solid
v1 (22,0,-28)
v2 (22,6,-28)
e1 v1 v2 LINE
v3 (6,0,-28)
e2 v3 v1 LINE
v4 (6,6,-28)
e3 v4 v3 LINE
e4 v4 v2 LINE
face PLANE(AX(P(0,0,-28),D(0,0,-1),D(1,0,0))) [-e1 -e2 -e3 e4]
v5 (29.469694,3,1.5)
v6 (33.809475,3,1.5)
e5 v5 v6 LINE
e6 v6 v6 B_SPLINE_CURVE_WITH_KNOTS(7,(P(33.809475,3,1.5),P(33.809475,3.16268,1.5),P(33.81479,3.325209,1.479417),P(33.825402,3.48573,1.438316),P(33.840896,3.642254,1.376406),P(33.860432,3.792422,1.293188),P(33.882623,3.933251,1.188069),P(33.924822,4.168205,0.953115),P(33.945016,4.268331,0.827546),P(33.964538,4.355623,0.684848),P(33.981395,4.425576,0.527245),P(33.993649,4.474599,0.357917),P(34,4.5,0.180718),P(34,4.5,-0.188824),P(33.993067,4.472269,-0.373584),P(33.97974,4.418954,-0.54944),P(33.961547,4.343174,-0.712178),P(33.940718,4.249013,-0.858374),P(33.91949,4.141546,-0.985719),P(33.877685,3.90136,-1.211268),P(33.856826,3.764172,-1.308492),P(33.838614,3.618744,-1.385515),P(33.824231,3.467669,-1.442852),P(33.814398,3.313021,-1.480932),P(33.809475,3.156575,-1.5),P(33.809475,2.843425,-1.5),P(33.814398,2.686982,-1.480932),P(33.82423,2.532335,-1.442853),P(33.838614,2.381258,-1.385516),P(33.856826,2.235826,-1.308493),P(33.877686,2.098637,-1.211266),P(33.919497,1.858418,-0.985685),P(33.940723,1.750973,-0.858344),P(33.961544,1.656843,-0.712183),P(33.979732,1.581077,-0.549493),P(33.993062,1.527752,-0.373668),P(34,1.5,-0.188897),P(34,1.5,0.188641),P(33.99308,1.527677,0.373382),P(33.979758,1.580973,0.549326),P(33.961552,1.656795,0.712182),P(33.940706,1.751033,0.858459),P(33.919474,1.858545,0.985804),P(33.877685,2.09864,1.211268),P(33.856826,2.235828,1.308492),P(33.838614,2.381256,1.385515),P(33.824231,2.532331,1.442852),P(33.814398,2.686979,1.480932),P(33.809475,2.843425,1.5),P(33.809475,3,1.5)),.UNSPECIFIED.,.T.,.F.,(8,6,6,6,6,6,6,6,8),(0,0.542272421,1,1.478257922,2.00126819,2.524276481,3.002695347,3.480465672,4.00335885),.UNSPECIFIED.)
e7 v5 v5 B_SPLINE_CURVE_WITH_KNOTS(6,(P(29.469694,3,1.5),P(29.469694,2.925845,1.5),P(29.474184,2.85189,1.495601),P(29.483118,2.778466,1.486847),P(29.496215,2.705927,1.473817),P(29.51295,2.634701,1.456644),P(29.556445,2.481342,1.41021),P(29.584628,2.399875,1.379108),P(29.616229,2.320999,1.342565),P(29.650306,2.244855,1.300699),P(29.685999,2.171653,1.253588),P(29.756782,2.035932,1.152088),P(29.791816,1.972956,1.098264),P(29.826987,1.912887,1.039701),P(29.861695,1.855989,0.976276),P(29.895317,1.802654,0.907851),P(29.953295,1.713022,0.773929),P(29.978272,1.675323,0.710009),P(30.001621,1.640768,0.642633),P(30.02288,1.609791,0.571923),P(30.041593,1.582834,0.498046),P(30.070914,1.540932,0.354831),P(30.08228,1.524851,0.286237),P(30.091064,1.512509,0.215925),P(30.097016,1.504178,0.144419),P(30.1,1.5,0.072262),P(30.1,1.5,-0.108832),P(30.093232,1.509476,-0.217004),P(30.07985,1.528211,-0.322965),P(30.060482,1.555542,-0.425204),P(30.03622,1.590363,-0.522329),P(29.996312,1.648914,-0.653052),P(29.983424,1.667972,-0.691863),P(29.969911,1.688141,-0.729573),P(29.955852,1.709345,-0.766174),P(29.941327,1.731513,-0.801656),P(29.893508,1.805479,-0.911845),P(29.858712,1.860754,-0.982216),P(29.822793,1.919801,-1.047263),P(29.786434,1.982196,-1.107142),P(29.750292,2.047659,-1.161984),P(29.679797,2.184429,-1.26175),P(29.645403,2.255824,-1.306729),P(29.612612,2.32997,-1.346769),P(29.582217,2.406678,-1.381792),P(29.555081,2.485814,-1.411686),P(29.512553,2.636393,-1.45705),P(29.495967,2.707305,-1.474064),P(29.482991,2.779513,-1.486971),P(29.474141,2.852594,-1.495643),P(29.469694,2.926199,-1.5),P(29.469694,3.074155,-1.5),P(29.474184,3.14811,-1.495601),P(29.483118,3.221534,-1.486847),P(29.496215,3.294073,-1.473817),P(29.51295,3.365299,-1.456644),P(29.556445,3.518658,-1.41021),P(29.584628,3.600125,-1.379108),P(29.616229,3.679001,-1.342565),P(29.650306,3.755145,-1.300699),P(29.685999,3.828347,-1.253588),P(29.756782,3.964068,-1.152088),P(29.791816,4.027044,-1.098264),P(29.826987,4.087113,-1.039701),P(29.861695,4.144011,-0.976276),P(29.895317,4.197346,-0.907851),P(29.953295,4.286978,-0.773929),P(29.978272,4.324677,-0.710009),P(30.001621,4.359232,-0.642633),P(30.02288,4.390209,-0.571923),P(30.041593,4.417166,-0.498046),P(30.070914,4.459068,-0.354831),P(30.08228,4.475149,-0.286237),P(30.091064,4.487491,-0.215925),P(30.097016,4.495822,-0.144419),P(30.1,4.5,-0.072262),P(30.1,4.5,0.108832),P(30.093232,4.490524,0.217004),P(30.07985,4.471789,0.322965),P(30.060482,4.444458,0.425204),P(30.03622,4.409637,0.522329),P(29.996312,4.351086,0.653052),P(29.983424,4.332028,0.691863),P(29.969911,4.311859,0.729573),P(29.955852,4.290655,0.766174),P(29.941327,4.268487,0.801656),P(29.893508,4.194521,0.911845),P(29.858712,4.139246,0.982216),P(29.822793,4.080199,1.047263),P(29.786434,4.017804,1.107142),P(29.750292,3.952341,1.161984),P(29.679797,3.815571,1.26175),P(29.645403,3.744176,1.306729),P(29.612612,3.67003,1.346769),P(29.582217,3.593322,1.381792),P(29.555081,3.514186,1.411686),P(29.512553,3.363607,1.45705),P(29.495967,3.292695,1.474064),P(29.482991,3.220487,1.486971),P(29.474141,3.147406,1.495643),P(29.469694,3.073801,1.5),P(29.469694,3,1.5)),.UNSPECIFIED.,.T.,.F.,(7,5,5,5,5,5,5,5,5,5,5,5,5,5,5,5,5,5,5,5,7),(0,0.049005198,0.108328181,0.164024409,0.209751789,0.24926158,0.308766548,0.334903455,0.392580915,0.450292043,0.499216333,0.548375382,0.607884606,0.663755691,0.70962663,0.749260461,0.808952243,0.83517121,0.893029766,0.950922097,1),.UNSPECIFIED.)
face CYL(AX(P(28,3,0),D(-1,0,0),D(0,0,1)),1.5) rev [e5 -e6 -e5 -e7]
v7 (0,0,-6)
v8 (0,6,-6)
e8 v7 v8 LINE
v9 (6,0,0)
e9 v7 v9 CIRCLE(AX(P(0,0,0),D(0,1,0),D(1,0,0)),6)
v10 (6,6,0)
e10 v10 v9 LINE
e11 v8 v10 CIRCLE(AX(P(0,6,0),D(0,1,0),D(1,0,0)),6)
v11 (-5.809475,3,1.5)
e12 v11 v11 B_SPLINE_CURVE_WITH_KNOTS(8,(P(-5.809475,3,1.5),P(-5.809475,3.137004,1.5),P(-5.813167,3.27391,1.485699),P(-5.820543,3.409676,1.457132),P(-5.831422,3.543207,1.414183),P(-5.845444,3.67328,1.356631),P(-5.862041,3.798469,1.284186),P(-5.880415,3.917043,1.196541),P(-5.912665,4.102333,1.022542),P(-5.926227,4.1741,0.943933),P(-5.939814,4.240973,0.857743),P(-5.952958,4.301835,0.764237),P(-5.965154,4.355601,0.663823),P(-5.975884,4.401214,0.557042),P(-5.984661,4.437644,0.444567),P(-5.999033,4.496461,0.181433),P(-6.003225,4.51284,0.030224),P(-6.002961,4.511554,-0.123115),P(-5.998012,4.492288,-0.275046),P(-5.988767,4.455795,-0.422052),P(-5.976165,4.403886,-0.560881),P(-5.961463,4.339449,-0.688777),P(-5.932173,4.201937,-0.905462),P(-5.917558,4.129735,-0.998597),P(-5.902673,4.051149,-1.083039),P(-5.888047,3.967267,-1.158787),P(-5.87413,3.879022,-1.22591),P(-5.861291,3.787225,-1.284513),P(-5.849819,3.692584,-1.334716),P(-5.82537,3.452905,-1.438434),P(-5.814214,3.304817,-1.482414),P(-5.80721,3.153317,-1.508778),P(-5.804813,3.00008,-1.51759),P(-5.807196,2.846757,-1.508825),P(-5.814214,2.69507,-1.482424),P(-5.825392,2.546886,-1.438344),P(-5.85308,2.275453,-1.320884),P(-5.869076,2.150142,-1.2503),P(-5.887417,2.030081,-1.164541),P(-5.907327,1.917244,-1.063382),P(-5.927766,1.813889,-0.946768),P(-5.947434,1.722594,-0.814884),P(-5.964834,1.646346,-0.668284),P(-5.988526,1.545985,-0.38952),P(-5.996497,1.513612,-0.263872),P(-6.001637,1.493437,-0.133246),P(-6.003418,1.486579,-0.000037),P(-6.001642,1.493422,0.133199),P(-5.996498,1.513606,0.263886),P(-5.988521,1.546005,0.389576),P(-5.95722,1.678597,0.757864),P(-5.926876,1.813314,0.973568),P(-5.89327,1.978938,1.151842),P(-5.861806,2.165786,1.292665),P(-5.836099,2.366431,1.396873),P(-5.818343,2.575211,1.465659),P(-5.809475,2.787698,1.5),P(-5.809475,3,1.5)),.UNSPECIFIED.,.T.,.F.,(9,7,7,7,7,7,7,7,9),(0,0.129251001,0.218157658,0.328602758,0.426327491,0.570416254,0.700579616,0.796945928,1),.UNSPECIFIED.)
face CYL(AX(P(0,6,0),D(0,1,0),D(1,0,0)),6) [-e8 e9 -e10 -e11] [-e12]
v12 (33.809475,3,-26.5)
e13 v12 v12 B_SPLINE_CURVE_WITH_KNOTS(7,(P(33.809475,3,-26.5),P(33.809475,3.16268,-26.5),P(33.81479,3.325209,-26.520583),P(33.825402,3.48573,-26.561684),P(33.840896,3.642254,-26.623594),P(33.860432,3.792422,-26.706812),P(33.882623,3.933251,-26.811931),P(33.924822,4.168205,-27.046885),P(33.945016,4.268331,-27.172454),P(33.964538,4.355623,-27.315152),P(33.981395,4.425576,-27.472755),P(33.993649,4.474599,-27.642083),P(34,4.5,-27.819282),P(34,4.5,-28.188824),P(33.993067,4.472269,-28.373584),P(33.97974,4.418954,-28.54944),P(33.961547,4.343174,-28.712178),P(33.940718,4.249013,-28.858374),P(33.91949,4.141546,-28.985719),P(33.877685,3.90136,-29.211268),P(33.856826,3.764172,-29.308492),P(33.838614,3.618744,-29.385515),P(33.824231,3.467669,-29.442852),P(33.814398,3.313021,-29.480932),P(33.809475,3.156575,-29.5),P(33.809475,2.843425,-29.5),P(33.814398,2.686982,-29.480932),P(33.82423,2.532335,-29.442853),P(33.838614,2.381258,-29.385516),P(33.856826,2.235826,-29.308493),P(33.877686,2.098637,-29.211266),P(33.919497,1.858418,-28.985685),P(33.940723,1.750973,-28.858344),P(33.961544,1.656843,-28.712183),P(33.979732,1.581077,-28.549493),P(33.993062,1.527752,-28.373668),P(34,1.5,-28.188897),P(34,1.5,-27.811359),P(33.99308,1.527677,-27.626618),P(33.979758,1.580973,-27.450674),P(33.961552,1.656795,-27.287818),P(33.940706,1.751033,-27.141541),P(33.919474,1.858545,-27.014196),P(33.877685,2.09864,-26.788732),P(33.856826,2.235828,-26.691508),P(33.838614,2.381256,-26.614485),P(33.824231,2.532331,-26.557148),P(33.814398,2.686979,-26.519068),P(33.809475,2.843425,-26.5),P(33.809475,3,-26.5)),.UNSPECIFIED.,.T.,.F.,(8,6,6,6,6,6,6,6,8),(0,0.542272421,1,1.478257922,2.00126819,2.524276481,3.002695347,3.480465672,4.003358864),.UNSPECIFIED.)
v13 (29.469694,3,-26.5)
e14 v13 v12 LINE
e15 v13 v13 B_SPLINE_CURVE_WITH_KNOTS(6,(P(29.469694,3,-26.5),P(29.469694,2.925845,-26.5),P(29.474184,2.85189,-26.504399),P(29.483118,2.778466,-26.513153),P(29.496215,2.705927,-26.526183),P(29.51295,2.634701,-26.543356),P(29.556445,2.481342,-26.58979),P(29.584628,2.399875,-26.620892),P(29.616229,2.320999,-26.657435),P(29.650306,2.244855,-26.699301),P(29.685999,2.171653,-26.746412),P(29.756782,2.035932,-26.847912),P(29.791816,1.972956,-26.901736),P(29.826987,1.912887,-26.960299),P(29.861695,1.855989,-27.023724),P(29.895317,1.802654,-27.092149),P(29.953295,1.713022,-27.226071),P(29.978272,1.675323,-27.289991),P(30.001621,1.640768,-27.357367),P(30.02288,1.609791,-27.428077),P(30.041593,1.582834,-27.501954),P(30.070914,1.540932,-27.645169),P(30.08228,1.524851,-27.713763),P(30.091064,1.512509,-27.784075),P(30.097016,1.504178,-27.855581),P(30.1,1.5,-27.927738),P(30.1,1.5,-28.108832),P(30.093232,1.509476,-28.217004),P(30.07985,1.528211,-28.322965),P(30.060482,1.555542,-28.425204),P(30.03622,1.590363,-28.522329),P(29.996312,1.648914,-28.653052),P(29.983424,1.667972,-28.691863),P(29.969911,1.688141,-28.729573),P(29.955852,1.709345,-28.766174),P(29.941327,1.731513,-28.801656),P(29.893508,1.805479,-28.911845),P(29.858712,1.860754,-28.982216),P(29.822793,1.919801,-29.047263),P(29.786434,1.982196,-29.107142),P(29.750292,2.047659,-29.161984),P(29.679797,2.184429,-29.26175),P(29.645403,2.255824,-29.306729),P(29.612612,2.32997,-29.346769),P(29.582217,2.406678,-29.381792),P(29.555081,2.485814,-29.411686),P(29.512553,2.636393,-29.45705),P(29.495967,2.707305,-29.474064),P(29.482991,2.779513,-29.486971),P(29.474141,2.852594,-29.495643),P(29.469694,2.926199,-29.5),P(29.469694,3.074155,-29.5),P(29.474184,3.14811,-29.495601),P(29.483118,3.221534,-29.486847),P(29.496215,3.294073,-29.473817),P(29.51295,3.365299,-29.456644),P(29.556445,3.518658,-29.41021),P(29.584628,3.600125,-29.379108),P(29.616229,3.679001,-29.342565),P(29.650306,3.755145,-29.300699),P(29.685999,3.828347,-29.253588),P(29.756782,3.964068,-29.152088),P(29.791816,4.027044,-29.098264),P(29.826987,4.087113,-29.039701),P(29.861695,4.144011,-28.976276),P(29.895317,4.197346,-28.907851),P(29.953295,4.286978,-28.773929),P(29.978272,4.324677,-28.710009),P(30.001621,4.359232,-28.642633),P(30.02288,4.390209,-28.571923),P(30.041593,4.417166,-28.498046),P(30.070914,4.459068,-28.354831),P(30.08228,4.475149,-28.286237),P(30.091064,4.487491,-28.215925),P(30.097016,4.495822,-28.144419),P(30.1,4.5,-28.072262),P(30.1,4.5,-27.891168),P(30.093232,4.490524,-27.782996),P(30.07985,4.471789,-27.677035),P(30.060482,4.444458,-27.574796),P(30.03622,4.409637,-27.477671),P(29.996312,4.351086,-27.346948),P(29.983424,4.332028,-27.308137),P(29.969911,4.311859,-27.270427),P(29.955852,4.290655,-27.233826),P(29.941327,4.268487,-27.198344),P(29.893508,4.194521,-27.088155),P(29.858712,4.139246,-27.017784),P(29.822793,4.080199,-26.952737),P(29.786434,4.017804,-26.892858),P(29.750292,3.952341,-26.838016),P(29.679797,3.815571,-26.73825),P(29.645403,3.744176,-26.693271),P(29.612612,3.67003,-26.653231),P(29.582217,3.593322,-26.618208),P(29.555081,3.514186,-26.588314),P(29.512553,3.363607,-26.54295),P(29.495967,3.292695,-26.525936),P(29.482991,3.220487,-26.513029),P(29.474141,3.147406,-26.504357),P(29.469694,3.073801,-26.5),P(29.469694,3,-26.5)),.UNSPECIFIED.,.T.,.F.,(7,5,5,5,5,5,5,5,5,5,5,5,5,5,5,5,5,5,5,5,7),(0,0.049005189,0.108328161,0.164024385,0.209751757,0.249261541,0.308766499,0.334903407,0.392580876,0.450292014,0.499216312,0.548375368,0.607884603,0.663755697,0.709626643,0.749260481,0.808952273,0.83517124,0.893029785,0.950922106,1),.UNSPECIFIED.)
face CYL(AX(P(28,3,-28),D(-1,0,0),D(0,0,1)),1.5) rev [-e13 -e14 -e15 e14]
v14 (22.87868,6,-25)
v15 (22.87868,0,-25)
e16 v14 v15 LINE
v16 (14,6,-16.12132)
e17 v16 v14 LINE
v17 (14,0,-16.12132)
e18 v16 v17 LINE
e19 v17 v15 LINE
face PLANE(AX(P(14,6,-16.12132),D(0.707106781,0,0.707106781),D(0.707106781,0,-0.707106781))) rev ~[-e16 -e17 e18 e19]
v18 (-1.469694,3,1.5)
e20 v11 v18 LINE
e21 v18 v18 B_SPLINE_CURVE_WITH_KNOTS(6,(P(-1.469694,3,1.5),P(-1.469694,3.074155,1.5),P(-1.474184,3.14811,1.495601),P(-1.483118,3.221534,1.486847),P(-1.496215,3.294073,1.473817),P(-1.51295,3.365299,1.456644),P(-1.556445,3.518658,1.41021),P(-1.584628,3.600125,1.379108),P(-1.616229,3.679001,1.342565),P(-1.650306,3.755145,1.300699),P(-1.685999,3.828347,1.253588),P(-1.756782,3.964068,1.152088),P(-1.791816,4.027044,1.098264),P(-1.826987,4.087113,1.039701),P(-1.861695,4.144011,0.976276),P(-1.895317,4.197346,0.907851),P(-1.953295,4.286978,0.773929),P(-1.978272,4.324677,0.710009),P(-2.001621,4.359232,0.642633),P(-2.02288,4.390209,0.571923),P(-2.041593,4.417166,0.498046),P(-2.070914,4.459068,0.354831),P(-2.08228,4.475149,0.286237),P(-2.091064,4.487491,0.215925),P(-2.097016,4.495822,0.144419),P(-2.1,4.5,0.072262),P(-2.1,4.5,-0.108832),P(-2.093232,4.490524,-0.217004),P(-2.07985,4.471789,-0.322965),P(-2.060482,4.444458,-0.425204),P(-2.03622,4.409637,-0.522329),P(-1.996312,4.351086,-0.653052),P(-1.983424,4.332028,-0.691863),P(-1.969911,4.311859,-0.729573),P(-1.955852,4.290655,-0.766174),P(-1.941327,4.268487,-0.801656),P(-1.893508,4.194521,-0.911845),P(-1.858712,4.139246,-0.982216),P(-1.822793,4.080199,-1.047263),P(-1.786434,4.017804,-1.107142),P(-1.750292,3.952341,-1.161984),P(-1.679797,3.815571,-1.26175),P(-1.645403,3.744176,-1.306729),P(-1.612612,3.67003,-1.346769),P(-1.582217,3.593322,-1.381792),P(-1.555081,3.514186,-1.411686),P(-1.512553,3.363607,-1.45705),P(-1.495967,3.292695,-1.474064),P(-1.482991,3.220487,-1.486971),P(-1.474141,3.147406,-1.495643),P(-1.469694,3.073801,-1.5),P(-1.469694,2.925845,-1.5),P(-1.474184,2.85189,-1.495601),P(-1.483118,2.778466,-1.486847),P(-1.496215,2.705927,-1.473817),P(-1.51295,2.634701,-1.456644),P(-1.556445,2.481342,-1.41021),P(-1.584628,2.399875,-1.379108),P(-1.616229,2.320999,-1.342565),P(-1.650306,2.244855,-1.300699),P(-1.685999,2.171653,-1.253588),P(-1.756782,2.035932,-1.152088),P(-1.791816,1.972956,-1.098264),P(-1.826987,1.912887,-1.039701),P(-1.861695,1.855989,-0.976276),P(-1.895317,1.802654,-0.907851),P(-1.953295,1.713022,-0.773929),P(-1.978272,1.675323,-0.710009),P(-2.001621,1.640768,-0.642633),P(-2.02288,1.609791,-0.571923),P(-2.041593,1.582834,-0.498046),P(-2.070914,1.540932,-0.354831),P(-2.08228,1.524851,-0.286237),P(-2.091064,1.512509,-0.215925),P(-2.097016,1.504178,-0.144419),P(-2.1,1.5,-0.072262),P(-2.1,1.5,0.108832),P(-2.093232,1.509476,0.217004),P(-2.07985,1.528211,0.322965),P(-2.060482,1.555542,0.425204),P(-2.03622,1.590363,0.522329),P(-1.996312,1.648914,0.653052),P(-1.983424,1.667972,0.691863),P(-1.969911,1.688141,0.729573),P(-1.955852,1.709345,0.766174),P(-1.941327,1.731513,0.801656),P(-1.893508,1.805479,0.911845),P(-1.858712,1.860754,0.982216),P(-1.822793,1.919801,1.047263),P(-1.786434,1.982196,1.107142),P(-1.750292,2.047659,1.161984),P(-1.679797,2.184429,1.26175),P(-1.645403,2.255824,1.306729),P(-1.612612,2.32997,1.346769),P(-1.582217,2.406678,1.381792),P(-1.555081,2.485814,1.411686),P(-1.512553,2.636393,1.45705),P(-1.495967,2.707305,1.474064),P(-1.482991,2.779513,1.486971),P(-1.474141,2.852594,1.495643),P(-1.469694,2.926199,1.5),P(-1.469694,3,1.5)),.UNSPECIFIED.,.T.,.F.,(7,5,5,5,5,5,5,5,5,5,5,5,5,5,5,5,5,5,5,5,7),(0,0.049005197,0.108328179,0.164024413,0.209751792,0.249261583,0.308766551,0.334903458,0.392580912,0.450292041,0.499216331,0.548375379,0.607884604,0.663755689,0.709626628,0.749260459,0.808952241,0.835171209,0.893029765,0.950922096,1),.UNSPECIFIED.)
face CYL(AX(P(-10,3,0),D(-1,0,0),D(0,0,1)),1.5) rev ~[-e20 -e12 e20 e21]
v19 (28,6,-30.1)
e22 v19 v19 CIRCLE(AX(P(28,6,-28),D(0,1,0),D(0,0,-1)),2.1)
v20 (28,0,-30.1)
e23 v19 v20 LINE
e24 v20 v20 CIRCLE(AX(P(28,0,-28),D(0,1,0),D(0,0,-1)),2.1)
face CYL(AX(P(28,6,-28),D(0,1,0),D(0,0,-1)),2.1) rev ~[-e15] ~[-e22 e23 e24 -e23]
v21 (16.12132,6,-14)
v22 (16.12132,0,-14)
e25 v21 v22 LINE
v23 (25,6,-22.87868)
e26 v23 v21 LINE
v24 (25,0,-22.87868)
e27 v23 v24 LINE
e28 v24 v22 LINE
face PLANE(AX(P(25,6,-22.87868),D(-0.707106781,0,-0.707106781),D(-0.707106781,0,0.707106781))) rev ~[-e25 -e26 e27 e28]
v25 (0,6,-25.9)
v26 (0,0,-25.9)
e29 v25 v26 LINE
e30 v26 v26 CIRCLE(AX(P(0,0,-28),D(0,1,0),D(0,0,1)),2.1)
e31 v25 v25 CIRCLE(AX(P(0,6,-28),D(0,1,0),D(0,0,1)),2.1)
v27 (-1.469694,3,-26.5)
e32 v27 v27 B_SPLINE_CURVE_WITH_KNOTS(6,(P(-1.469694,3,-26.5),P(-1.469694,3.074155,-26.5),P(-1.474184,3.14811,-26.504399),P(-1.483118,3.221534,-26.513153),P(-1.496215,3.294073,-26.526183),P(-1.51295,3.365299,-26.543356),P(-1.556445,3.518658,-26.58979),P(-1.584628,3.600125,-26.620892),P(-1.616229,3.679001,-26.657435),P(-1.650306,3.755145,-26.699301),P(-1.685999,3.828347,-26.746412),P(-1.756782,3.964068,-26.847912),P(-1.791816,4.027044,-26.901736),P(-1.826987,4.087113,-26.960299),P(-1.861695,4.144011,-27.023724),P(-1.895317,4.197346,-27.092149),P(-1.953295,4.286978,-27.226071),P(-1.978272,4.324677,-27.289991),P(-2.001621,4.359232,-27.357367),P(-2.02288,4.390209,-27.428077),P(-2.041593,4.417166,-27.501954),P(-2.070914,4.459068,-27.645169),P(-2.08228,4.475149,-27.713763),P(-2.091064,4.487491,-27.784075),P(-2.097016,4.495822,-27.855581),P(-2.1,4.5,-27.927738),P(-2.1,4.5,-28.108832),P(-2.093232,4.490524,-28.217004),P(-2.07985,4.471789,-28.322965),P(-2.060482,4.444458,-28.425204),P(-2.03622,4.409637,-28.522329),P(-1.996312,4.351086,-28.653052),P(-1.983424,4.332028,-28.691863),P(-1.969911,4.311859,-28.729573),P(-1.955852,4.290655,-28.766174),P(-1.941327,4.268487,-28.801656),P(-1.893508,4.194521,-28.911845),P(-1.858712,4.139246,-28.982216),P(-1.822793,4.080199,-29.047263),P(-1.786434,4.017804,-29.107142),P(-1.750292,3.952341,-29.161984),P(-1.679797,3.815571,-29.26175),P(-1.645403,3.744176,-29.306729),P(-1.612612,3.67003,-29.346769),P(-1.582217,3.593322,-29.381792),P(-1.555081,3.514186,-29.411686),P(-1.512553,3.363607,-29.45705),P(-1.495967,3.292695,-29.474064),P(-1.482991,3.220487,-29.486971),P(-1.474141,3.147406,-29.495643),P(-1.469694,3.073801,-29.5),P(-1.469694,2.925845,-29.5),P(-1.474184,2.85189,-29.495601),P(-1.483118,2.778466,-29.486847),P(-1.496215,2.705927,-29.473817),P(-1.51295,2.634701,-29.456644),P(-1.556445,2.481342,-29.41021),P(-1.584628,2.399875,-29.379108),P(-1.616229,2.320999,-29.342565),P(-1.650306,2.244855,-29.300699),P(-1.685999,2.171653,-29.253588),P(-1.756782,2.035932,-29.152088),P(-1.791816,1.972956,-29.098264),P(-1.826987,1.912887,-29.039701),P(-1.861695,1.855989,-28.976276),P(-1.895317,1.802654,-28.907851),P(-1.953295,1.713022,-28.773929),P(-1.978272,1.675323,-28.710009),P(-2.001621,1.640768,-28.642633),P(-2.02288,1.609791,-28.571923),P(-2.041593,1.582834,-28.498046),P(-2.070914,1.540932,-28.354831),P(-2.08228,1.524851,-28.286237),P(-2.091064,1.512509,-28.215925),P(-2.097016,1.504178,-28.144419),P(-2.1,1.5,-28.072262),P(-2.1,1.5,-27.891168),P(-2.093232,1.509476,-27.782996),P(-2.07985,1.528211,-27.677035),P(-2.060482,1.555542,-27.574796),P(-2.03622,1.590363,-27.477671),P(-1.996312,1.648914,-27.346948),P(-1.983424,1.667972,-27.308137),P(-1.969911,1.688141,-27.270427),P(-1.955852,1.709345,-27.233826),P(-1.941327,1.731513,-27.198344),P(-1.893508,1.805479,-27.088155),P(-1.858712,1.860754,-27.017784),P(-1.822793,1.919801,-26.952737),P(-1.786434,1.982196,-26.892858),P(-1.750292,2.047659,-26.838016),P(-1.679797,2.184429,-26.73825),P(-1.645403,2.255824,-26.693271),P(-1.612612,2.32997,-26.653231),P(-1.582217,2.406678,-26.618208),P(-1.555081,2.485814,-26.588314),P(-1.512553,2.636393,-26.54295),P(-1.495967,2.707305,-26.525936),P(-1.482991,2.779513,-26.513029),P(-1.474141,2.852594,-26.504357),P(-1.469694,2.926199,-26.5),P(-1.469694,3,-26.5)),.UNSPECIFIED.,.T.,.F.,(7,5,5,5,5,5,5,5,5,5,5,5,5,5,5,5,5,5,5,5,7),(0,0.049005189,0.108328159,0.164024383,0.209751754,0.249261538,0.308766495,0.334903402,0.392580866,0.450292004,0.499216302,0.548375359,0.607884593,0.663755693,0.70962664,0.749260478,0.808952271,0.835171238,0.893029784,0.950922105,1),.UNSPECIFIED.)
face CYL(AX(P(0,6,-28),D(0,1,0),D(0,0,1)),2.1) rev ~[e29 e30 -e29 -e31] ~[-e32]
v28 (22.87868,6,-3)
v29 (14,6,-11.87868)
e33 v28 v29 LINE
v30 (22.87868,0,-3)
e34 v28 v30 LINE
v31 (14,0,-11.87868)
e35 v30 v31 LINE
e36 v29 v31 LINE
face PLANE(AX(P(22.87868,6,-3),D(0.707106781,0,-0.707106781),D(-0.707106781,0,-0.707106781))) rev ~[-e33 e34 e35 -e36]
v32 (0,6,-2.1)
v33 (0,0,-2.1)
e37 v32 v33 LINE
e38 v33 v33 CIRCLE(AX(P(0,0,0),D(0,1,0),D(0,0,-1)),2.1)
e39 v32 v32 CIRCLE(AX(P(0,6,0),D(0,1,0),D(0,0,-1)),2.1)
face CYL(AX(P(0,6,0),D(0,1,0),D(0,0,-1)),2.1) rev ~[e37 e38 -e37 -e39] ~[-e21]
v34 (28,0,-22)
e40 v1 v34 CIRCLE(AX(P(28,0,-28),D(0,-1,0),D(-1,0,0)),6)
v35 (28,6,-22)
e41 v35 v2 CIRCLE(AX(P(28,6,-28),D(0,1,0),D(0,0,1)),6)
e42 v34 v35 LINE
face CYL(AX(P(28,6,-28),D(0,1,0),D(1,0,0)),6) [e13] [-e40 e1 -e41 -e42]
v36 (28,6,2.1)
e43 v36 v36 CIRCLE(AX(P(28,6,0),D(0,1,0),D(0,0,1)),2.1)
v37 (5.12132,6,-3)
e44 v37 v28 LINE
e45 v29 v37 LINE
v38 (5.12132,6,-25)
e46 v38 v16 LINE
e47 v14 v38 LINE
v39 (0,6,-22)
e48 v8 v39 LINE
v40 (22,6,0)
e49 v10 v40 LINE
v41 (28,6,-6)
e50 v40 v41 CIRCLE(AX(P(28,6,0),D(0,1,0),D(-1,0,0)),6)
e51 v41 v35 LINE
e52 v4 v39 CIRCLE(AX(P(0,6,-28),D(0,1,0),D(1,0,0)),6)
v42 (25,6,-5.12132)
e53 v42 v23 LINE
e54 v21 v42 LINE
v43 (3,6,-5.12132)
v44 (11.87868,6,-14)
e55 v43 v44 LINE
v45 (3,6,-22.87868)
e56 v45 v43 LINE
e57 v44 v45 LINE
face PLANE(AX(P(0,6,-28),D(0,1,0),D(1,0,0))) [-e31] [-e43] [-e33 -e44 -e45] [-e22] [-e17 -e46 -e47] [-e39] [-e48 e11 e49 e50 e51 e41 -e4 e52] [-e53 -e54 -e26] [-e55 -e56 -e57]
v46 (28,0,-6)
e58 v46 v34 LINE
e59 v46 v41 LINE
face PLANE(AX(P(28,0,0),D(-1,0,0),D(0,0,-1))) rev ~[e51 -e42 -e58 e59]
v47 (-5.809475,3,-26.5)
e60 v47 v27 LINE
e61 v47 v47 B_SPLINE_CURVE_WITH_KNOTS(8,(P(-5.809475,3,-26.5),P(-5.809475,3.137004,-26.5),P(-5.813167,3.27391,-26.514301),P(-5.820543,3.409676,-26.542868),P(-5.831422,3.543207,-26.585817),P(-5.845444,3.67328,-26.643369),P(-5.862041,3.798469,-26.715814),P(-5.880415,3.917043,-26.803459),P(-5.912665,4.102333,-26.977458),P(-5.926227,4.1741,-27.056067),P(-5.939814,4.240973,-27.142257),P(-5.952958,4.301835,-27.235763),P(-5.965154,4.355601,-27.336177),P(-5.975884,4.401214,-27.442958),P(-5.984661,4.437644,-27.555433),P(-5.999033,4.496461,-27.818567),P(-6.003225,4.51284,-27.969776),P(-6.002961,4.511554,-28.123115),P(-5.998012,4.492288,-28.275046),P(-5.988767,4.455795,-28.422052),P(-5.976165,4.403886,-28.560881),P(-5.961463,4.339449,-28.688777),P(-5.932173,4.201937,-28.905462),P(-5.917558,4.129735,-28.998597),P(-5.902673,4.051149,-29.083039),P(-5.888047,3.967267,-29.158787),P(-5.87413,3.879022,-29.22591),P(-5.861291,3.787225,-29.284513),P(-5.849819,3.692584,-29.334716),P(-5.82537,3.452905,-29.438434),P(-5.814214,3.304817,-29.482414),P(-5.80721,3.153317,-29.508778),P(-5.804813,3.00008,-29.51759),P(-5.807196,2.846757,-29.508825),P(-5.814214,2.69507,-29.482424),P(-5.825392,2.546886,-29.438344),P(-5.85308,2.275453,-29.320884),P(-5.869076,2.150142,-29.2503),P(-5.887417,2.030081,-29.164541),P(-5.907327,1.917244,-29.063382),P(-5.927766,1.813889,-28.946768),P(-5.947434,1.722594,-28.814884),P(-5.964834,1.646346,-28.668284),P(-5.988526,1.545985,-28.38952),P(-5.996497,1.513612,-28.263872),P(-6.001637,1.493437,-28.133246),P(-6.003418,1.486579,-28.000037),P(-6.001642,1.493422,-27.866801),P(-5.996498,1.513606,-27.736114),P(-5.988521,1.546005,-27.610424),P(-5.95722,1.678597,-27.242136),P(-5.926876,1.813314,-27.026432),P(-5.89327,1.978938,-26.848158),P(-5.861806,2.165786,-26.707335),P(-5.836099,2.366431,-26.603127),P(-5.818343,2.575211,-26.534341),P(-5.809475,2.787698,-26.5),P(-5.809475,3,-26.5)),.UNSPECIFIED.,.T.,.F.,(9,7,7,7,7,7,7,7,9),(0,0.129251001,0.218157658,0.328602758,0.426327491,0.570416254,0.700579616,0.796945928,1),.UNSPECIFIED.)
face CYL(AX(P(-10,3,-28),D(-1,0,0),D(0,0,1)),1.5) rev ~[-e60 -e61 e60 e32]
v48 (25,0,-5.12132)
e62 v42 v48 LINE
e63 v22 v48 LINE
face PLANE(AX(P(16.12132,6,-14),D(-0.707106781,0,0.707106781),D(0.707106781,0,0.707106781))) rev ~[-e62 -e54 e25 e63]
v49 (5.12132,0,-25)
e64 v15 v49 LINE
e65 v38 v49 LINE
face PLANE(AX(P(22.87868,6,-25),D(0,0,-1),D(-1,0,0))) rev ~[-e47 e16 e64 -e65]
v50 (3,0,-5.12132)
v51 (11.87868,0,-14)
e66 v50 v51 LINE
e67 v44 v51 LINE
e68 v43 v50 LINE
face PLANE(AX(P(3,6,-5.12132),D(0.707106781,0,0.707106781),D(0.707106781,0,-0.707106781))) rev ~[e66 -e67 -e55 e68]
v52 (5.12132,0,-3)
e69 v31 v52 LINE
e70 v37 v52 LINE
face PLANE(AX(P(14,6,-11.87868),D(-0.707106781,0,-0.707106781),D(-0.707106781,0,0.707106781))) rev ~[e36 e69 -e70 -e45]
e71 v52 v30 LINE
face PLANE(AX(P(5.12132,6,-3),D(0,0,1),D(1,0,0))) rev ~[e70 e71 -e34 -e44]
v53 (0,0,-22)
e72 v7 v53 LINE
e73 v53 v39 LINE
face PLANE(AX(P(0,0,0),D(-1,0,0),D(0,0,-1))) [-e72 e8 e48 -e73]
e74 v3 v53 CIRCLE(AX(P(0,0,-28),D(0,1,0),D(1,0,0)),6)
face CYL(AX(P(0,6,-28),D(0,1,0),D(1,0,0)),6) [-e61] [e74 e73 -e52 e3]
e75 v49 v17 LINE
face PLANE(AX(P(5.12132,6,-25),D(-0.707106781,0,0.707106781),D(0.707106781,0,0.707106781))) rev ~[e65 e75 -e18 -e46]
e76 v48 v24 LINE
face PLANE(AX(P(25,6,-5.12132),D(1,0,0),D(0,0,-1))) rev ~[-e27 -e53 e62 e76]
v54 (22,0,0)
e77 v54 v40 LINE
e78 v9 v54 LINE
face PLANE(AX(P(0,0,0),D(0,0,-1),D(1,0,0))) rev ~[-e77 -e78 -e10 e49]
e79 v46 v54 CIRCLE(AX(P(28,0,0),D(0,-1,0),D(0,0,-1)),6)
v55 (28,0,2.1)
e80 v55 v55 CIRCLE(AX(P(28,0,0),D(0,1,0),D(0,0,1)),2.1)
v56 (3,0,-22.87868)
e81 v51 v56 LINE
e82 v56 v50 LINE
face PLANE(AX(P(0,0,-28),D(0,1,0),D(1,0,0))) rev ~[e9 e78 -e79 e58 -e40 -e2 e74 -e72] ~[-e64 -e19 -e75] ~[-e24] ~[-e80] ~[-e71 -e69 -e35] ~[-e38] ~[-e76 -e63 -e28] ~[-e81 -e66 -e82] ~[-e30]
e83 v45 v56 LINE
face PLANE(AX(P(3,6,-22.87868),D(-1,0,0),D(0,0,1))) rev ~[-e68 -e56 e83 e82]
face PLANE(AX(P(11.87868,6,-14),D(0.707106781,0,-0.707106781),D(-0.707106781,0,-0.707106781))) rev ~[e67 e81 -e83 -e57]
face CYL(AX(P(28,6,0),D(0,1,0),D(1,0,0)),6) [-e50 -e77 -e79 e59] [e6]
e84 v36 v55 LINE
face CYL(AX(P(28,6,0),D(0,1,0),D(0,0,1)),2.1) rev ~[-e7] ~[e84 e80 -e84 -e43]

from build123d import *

# Parameters (mm, degrees)
SKETCH1_W           = 28
SKETCH1_H           = 28
BOSS_EXTRUDE1_DEPTH = 6
SKETCH2_R           = 6
BOSS_EXTRUDE2_DEPTH = 6
SKETCH3_R           = 2.1
CUT_EXTRUDE1_DEPTH  = 49.456165758
CUT_EXTRUDE2_DEPTH  = 10
SKETCH5_R           = 1.5
CUT_EXTRUDE3_DEPTH  = 10
CUT_EXTRUDE4_START  = 10
SKETCH6_R           = 1.5
CUT_EXTRUDE4_DEPTH  = 10


with BuildPart() as part:
    # Sketch1 → Boss-Extrude1 (new body)
    with BuildSketch(Plane(origin=(0, 0, 0), x_dir=(1, 0, 0), z_dir=(0, 1, 0))):
        with Locations((14, 14)):
            Rectangle(SKETCH1_W, SKETCH1_H)
    extrude(amount=BOSS_EXTRUDE1_DEPTH)

    # Sketch2 → Boss-Extrude2 (add)
    with BuildSketch(Plane(origin=(0, 6, 0), x_dir=(1, 0, 0), z_dir=(0, 1, 0))):
        with Locations((0, 28)):
            Circle(SKETCH2_R)
        with Locations((28, 28)):
            Circle(SKETCH2_R)
        with Locations((28, 0)):
            Circle(SKETCH2_R)
        Circle(SKETCH2_R)
    extrude(amount=-BOSS_EXTRUDE2_DEPTH)

    # Sketch3 → Cut-Extrude1 (cut, through all)
    with BuildSketch(Plane(origin=(0, 6, 0), x_dir=(1, 0, 0), z_dir=(0, 1, 0))):
        with Locations(Location((0, 28, 0), (0, 0, 270))):
            Circle(SKETCH3_R)
        with Locations(Location((28, 28, 0), (0, 0, 90))):
            Circle(SKETCH3_R)
        with Locations(Location((28, 0, 0), (0, 0, 270))):
            Circle(SKETCH3_R)
        with Locations(Location((0, 0, 0), (0, 0, 90))):
            Circle(SKETCH3_R)
    extrude(amount=-CUT_EXTRUDE1_DEPTH, mode=Mode.SUBTRACT)

    # Sketch4 → Cut-Extrude2 (cut)
    with BuildSketch(Plane(origin=(0, 6, 0), x_dir=(1, 0, 0), z_dir=(0, 1, 0))):
        Polygon((11.878679656, 14), (3, 22.878679656), (3, 5.121320344), align=None)
        Polygon((22.878679656, 25), (5.121320344, 25), (14, 16.121320344), align=None)
        Polygon((25, 5.121320344), (25, 22.878679656), (16.121320344, 14), align=None)
        Polygon((14, 11.878679656), (5.121320344, 3), (22.878679656, 3), align=None)
    extrude(amount=-CUT_EXTRUDE2_DEPTH, mode=Mode.SUBTRACT)

    # Sketch5 → Cut-Extrude3 (cut)
    with BuildSketch(Plane(origin=(28, 0, 0), x_dir=(0, 0, -1), z_dir=(1, 0, 0))):
        with Locations(Location((0, 3, 0), (0, 0, 180))):
            Circle(SKETCH5_R)
        with Locations(Location((28, 3, 0), (0, 0, 180))):
            Circle(SKETCH5_R)
    extrude(amount=CUT_EXTRUDE3_DEPTH, mode=Mode.SUBTRACT)

    # Sketch6 → Cut-Extrude4 (cut)
    with BuildSketch(Plane.ZY.offset(CUT_EXTRUDE4_START)):
        with Locations((-28, 3)):
            Circle(SKETCH6_R)
        with Locations((0, 3)):
            Circle(SKETCH6_R)
    extrude(amount=-CUT_EXTRUDE4_DEPTH, mode=Mode.SUBTRACT)


solid = part.part
